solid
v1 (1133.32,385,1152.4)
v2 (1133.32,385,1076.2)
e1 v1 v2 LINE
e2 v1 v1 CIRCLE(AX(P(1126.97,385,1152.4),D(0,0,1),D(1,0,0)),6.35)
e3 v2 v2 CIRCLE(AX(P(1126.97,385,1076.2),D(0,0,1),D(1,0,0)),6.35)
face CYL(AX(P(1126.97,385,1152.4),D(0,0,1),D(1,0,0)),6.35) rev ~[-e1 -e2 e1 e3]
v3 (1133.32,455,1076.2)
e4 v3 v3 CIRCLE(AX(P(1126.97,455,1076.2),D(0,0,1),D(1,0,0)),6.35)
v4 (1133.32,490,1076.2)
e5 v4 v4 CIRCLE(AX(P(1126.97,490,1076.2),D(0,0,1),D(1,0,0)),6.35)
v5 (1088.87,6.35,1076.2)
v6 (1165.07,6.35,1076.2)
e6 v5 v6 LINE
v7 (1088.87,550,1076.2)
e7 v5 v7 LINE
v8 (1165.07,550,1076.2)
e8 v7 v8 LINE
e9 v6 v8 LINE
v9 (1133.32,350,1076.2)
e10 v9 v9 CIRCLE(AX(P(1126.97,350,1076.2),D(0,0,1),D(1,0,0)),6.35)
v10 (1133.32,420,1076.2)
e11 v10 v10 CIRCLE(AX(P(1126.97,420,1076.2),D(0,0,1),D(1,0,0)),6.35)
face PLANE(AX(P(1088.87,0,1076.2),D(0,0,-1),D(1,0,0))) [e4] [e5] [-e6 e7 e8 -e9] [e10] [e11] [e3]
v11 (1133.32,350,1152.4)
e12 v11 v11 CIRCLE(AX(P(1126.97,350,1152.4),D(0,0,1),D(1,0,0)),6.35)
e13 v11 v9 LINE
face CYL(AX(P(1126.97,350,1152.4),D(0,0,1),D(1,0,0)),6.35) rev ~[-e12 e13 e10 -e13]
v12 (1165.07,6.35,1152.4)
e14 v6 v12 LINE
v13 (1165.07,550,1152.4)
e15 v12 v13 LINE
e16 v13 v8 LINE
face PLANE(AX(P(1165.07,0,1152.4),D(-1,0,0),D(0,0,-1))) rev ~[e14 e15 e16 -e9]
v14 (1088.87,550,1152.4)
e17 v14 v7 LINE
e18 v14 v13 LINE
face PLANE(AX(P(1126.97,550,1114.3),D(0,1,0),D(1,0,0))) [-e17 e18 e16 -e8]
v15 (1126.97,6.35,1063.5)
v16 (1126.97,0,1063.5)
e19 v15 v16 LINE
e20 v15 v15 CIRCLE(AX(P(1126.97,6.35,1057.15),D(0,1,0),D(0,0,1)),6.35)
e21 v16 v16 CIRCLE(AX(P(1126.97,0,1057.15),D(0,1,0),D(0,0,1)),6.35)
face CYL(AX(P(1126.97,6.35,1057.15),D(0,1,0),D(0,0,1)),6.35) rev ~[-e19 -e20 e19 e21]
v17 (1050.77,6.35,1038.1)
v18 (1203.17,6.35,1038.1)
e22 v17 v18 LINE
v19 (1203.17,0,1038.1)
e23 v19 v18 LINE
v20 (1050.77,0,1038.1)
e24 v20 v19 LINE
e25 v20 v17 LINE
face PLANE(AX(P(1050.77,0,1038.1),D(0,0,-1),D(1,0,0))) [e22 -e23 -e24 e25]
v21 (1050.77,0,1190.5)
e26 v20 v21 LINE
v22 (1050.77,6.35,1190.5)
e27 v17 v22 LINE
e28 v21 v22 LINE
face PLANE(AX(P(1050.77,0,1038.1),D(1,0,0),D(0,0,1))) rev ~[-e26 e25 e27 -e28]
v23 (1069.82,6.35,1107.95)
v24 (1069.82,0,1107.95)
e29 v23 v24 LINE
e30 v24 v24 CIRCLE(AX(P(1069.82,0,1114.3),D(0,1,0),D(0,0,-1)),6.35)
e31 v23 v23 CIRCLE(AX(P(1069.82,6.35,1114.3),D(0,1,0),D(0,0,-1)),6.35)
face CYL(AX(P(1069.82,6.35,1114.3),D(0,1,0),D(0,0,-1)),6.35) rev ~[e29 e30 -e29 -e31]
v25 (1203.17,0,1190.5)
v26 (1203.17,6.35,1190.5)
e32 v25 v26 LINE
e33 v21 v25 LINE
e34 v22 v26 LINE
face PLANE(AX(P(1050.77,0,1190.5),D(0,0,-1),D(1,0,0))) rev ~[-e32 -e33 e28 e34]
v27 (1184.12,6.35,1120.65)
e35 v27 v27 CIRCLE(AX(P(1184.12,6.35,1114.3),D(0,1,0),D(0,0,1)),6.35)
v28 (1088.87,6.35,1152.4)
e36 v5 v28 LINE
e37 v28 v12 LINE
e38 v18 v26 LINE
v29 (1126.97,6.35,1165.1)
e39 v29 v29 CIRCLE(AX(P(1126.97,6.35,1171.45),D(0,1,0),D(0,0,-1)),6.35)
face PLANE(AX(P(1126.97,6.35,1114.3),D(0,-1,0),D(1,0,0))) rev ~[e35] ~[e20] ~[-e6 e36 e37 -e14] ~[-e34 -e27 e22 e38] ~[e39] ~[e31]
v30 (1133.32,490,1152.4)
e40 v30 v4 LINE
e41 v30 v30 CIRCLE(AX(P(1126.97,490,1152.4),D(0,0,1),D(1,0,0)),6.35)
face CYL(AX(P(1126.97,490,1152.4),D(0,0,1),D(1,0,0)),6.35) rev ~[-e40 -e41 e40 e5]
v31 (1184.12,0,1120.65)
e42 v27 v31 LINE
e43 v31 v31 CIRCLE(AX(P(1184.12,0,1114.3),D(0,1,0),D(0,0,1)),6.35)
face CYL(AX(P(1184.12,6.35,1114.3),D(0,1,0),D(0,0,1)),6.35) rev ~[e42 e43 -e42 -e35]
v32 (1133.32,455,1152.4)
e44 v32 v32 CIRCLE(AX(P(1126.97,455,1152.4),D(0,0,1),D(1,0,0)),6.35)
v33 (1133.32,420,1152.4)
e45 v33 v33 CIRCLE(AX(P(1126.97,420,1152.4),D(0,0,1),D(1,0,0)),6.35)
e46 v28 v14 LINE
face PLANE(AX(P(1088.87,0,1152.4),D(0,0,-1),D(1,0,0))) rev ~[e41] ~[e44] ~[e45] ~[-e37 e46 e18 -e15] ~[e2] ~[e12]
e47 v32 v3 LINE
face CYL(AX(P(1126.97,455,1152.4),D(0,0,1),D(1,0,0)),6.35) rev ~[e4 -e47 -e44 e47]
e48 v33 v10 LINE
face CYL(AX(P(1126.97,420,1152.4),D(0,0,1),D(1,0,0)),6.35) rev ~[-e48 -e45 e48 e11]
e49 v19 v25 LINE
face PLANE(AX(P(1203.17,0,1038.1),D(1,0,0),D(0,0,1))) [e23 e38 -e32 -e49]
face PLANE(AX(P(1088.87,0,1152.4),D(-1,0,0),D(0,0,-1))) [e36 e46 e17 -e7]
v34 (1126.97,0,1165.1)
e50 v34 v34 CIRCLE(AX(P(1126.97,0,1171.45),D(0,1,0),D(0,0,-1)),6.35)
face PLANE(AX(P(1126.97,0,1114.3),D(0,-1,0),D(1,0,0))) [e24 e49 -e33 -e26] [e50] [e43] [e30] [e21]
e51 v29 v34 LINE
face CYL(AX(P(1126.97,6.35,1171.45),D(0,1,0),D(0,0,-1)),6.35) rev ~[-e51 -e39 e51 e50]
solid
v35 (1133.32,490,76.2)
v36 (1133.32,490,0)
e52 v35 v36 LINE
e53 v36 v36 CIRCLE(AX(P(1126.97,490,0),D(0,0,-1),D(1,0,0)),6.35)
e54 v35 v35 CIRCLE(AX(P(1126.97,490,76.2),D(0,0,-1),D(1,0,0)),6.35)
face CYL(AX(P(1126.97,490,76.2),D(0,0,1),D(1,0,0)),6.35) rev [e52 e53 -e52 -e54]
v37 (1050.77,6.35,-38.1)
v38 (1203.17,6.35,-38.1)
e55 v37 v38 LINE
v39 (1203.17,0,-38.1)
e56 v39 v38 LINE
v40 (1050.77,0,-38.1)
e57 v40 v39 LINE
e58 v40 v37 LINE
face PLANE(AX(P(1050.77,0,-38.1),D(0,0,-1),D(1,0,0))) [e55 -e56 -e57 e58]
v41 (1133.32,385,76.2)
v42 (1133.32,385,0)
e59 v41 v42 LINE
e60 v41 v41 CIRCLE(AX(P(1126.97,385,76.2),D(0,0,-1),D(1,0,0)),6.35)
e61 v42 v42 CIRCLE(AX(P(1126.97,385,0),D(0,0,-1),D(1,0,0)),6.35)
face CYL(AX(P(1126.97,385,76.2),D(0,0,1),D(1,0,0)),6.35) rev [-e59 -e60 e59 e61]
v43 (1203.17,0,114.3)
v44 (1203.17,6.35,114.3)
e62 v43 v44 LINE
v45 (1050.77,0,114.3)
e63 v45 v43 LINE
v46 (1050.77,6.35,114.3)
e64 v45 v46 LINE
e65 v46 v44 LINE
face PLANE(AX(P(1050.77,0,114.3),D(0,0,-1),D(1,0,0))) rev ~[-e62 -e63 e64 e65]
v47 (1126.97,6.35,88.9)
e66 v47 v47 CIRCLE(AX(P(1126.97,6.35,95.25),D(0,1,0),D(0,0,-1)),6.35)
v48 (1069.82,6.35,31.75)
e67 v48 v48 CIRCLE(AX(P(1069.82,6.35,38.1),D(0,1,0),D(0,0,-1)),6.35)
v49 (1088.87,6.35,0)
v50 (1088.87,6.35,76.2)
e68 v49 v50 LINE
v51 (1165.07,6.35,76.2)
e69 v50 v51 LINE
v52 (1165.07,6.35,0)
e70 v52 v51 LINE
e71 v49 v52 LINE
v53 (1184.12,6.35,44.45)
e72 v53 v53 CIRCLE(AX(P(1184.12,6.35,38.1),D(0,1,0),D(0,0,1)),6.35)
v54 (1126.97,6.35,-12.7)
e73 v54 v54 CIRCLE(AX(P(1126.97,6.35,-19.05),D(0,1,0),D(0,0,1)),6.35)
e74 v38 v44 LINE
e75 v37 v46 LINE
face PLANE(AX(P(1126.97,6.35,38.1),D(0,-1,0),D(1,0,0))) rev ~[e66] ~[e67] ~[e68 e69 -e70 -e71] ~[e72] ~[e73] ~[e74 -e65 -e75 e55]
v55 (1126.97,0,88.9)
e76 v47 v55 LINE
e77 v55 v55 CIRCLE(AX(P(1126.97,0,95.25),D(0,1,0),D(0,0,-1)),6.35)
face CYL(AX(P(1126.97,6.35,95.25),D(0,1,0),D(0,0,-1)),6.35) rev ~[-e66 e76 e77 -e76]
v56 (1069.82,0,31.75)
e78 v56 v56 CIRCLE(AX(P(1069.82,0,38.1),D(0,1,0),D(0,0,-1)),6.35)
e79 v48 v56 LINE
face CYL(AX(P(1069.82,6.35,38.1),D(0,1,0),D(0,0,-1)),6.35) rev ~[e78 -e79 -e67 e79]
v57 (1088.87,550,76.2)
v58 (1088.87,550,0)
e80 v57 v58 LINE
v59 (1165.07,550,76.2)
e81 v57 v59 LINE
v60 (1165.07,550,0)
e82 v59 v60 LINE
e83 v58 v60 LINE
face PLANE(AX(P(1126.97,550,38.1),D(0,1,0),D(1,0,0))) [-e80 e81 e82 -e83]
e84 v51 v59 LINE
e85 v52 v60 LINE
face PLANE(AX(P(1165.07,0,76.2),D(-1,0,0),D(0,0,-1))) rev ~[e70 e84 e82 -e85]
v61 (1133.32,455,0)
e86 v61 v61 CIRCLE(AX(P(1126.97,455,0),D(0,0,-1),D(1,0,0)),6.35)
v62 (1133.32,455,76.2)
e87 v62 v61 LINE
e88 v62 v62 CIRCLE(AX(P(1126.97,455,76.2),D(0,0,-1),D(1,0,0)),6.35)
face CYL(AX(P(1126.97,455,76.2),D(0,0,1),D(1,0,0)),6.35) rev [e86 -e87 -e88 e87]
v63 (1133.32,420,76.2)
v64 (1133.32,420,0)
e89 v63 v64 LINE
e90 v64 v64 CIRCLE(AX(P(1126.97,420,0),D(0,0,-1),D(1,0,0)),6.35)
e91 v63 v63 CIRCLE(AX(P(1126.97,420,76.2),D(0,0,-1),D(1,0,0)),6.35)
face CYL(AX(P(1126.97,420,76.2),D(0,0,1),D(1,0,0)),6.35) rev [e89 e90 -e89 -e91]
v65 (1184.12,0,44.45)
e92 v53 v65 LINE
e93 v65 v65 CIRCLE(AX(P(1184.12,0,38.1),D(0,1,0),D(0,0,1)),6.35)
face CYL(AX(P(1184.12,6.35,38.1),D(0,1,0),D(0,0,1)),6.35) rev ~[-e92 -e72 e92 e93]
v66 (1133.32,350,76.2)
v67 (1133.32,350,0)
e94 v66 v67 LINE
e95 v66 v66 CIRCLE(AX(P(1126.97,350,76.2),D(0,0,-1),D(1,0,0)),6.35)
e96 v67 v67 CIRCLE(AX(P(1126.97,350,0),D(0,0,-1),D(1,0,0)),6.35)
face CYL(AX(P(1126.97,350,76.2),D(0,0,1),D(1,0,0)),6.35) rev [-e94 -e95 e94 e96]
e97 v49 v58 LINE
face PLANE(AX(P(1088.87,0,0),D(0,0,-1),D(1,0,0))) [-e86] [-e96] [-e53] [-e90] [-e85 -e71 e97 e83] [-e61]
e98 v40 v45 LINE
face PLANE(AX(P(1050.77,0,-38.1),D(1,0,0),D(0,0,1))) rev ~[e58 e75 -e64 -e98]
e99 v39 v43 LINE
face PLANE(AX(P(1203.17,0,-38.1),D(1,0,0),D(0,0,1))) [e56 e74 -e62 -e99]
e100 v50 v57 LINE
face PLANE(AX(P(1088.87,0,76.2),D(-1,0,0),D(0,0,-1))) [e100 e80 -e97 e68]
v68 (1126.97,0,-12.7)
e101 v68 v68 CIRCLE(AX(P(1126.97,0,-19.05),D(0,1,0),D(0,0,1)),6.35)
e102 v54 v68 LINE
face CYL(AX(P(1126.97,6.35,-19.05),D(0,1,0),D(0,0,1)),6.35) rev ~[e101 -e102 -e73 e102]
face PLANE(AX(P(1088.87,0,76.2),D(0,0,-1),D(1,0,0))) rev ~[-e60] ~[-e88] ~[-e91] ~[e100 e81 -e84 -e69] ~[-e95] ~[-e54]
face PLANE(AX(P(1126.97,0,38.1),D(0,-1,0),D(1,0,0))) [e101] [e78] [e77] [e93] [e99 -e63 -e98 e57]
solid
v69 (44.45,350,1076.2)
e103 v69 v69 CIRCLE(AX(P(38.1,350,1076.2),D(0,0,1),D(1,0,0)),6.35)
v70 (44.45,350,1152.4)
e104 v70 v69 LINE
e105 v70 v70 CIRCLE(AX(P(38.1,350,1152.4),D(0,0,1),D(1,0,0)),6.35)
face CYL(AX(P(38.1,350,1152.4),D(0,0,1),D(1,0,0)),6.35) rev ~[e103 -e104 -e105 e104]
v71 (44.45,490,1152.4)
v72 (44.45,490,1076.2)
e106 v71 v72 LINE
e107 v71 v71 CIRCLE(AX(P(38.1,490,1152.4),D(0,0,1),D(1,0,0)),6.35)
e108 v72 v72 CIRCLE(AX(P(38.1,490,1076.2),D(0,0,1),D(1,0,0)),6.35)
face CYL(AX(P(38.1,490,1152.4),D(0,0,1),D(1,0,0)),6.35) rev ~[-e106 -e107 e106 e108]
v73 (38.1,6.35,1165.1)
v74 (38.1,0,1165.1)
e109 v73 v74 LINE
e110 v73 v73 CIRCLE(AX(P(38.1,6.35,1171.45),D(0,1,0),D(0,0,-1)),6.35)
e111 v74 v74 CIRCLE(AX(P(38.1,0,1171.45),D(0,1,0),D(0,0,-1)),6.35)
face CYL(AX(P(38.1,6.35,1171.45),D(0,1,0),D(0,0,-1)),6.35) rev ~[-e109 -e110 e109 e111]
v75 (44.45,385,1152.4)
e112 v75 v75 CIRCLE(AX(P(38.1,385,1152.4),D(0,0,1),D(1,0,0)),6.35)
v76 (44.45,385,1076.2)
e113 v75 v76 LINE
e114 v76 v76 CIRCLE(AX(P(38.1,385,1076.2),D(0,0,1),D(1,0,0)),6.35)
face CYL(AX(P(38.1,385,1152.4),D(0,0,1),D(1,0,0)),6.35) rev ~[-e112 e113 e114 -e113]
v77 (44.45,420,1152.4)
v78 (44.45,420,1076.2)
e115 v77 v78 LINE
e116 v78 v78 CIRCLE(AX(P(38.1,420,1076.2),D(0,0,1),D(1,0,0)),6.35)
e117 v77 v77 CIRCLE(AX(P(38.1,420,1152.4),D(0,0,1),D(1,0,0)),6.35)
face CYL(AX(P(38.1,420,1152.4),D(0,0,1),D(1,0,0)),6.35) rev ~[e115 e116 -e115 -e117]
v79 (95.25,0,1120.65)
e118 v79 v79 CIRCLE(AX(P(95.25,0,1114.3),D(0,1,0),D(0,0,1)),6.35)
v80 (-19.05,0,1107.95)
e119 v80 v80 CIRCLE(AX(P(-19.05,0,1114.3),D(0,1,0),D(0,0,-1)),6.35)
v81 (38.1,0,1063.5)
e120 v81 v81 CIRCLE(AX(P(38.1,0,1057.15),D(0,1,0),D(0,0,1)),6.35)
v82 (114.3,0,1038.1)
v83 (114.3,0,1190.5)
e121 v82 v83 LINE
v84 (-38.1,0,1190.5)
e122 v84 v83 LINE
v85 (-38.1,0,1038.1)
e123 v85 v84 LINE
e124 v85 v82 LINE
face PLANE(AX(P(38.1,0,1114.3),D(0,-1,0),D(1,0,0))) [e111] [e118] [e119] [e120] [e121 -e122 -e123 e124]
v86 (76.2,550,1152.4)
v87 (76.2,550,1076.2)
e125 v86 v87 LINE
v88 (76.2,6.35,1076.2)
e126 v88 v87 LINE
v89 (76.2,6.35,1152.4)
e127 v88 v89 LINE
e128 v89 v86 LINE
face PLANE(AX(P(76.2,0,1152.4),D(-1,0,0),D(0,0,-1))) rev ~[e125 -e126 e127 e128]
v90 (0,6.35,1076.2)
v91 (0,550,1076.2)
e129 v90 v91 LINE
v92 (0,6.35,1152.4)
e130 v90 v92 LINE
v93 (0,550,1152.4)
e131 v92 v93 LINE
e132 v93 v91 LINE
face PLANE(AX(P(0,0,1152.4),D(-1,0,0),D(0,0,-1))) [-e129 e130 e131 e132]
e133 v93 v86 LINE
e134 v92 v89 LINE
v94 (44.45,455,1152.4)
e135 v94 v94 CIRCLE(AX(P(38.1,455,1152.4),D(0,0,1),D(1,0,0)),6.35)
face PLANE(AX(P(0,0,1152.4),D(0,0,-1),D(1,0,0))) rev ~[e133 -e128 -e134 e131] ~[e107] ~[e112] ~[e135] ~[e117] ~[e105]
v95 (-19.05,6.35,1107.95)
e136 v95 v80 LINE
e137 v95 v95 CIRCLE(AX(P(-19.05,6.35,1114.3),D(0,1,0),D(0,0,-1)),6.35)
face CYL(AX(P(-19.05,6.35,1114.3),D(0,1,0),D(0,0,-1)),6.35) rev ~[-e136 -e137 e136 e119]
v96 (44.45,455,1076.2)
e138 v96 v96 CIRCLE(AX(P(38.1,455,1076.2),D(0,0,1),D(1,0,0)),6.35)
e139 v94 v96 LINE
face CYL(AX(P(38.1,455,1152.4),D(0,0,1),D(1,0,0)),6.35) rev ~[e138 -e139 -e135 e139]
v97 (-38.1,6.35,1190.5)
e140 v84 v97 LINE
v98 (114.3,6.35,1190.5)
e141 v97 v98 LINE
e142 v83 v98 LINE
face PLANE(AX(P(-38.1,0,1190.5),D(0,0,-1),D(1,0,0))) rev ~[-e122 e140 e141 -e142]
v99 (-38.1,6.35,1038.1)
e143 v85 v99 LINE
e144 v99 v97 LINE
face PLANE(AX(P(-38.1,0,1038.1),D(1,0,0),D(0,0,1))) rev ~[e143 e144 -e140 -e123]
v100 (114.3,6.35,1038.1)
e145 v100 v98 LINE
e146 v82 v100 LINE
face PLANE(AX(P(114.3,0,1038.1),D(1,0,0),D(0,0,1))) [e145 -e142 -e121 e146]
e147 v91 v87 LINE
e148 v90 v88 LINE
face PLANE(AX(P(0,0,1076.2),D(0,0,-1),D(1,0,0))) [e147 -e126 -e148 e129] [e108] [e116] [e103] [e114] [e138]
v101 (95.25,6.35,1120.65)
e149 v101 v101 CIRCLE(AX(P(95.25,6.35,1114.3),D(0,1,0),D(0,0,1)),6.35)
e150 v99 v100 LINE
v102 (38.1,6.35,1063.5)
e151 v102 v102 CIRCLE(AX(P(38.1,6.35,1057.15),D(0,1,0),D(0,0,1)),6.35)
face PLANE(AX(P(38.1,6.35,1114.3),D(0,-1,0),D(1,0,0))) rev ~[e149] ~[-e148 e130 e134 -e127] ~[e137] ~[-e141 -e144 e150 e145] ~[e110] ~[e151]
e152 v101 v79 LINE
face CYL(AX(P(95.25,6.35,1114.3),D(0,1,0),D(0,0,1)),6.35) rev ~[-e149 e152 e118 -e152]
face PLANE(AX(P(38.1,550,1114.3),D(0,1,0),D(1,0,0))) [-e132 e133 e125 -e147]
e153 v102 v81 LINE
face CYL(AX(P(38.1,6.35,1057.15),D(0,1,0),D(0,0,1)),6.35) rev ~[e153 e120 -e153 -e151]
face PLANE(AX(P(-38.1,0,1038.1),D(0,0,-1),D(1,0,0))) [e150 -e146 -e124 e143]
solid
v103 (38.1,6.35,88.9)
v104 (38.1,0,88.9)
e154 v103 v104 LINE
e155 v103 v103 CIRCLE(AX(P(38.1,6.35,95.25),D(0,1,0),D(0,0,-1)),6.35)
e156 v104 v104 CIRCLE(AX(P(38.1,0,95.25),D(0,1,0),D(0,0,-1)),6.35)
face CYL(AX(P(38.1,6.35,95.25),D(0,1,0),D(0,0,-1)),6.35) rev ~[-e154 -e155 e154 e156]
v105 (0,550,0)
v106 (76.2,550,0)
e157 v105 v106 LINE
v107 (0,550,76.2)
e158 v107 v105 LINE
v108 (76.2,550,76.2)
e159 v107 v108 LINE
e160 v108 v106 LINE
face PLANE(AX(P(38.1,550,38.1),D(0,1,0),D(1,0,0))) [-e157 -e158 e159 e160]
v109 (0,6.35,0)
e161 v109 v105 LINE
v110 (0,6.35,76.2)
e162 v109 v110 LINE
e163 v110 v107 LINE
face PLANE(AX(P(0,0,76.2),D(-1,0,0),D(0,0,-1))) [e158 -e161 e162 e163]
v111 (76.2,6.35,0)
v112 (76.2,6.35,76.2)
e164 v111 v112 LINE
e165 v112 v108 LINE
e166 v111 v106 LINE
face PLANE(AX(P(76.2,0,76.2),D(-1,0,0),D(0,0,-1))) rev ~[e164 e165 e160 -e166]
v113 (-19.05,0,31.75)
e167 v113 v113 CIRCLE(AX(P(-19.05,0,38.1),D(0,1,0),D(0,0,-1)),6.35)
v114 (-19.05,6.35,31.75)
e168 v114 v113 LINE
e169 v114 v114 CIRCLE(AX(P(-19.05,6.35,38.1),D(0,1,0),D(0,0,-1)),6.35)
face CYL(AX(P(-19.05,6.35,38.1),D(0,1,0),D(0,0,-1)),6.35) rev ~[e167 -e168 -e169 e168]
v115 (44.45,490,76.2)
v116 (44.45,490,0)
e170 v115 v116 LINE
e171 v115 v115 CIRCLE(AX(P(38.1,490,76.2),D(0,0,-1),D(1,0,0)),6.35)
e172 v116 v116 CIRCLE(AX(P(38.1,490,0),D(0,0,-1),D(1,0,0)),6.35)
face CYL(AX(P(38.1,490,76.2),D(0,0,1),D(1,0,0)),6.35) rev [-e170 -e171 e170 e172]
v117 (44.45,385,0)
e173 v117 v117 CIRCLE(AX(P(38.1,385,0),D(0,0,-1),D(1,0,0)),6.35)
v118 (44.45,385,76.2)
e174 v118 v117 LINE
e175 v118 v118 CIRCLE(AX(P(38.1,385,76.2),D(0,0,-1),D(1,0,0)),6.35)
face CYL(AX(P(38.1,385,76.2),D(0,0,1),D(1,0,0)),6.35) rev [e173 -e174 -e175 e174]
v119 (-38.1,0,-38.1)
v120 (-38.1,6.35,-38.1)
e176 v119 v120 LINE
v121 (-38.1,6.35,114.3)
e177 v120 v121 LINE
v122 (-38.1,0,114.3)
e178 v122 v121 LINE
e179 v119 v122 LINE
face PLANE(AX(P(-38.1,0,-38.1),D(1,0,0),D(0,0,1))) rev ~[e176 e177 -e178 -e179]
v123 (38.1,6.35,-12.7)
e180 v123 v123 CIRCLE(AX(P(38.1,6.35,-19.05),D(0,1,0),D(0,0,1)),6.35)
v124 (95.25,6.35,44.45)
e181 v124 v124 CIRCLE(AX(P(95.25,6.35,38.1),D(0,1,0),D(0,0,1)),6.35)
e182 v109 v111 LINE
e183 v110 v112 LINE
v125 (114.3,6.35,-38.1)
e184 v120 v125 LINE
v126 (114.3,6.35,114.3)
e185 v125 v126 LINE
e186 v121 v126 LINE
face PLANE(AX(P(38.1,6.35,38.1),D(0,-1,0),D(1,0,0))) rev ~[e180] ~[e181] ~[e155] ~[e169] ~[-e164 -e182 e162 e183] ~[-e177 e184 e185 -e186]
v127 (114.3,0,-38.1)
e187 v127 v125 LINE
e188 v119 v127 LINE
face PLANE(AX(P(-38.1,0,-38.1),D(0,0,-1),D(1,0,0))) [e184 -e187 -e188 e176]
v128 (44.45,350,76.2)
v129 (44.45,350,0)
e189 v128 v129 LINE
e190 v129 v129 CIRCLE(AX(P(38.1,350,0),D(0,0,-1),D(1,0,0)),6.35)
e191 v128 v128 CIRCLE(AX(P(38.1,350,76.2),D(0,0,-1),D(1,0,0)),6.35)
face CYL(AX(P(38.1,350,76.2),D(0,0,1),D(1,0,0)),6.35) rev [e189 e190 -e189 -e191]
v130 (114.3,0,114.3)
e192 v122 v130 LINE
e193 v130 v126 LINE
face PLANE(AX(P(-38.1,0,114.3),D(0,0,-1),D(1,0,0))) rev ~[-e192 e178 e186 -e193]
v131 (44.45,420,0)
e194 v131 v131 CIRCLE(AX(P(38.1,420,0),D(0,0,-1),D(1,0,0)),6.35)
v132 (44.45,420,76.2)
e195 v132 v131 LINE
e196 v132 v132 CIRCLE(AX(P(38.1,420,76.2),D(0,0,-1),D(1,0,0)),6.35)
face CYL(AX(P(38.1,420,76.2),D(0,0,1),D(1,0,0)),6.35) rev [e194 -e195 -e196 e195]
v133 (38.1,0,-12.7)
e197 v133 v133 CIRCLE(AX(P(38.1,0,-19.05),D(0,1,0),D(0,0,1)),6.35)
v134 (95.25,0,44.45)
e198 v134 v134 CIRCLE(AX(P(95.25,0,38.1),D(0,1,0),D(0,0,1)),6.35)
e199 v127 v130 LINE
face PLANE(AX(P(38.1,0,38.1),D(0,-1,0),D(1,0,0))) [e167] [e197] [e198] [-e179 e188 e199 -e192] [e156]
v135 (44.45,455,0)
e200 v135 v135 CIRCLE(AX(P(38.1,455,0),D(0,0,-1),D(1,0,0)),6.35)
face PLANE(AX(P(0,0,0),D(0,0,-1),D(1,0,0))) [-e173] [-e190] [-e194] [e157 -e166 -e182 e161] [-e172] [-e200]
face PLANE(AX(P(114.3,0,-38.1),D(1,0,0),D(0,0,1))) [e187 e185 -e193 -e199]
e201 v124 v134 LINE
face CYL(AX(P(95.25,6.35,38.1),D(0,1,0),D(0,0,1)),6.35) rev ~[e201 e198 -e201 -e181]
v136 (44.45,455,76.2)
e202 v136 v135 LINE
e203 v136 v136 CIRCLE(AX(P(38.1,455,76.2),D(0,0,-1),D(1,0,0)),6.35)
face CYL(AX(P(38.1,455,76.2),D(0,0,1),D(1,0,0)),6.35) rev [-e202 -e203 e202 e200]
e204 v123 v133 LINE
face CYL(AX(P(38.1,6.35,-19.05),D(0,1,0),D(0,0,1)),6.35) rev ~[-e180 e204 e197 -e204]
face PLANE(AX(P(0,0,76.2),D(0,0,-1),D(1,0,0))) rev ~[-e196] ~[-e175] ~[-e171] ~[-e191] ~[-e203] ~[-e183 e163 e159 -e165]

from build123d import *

# Parameters (mm, degrees)
CROQUIS1_W                = 76.2
CROQUIS1_H                = 76.2
SALIENTE_EXTRUIR1_DEPTH   = 550
SALIENTE_EXTRUIR1_2_DEPTH = 550
SALIENTE_EXTRUIR1_3_DEPTH = 550
SALIENTE_EXTRUIR1_4_DEPTH = 550
CROQUIS2_W                = 152.4
CROQUIS2_H                = 152.4
CROQUIS2_W_2              = 76.2
CROQUIS2_H_2              = 76.2
SALIENTE_EXTRUIR2_DEPTH   = 6.35
CROQUIS3_R                = 6.35
CORTAR_EXTRUIR1_DEPTH     = 6.35
CROQUIS4_R                = 6.35
CORTAR_EXTRUIR2_DEPTH     = 6.35
CROQUIS5_R                = 6.35
CORTAR_EXTRUIR3_DEPTH     = 6.35
CROQUIS6_R                = 6.35
CORTAR_EXTRUIR4_DEPTH     = 6.35
CROQUIS7_R                = 6.35
CORTAR_EXTRUIR5_DEPTH     = 76.2
CROQUIS8_R                = 6.35
CORTAR_EXTRUIR6_DEPTH     = 76.2
CORTAR_EXTRUIR7_START     = -76.2
CROQUIS9_R                = 6.35
CORTAR_EXTRUIR7_DEPTH     = 76.2
CORTAR_EXTRUIR8_START     = -76.2
CROQUIS10_R               = 6.35
CORTAR_EXTRUIR8_DEPTH     = 76.2


with BuildPart() as part:
    # Croquis1 → Saliente-Extruir1 (new body)
    with BuildSketch(Plane(origin=(0, 0, 0), x_dir=(1, 0, 0), z_dir=(0, 1, 0))):
        with Locations((38.1, -38.1)):
            Rectangle(CROQUIS1_W, CROQUIS1_H)
    extrude(amount=SALIENTE_EXTRUIR1_DEPTH)



with BuildPart() as body_2:
    # Croquis1 → Saliente-Extruir1 2 (new body)
    with BuildSketch(Plane(origin=(0, 0, 0), x_dir=(1, 0, 0), z_dir=(0, 1, 0))):
        with Locations((1126.97, -38.1)):
            Rectangle(CROQUIS1_W, CROQUIS1_H)
    extrude(amount=SALIENTE_EXTRUIR1_2_DEPTH)


with BuildPart() as body_3:
    # Croquis1 → Saliente-Extruir1 3 (new body)
    with BuildSketch(Plane(origin=(0, 0, 0), x_dir=(1, 0, 0), z_dir=(0, 1, 0))):
        with Locations((1126.97, -1114.3)):
            Rectangle(CROQUIS1_W, CROQUIS1_H)
    extrude(amount=SALIENTE_EXTRUIR1_3_DEPTH)


with BuildPart() as body_4:
    # Croquis1 → Saliente-Extruir1 4 (new body)
    with BuildSketch(Plane(origin=(0, 0, 0), x_dir=(1, 0, 0), z_dir=(0, 1, 0))):
        with Locations((38.1, -1114.3)):
            Rectangle(CROQUIS1_W, CROQUIS1_H)
    extrude(amount=SALIENTE_EXTRUIR1_4_DEPTH)


with BuildPart() as part_1:
    add(part.part)

    add(body_2.part)  # Saliente-Extruir2 merges body 2

    add(body_3.part)  # Saliente-Extruir2 merges body 3

    add(body_4.part)  # Saliente-Extruir2 merges body 4
    # Croquis2 → Saliente-Extruir2 (add)
    # profile 1 of 4: a face of its own
    with BuildSketch(Plane.XZ):
        with Locations((38.1, 38.1)):
            Rectangle(CROQUIS2_W, CROQUIS2_H)
        with Locations((38.1, 38.1)):
            Rectangle(CROQUIS2_W_2, CROQUIS2_H_2, mode=Mode.SUBTRACT)
    # profile 2 of 4: a face of its own
    with BuildSketch(Plane.XZ):
        with Locations((1126.97, 38.1)):
            Rectangle(CROQUIS2_W, CROQUIS2_H)
        with Locations((1126.97, 38.1)):
            Rectangle(CROQUIS2_W_2, CROQUIS2_H_2, mode=Mode.SUBTRACT)
    # profile 3 of 4: a face of its own
    with BuildSketch(Plane.XZ):
        with Locations((1126.97, 1114.3)):
            Rectangle(CROQUIS2_W, CROQUIS2_H)
        with Locations((1126.97, 1114.3)):
            Rectangle(CROQUIS2_W_2, CROQUIS2_H_2, mode=Mode.SUBTRACT)
    # profile 4 of 4: a face of its own
    with BuildSketch(Plane.XZ):
        with Locations((38.1, 1114.3)):
            Rectangle(CROQUIS2_W, CROQUIS2_H)
        with Locations((38.1, 1114.3)):
            Rectangle(CROQUIS2_W_2, CROQUIS2_H_2, mode=Mode.SUBTRACT)
    extrude(amount=-SALIENTE_EXTRUIR2_DEPTH)

    # Croquis3 → Cortar-Extruir1 (cut)
    with BuildSketch(Plane(origin=(0, 6.35, 0), x_dir=(1, 0, 0), z_dir=(0, 1, 0))):
        with Locations(Location((38.1, 19.05, 0), (0, 0, 270))):
            Circle(CROQUIS3_R)
        with Locations(Location((-19.05, -38.1, 0), (0, 0, 90))):
            Circle(CROQUIS3_R)
        with Locations(Location((38.1, -95.25, 0), (0, 0, 90))):
            Circle(CROQUIS3_R)
        with Locations(Location((95.25, -38.1, 0), (0, 0, 270))):
            Circle(CROQUIS3_R)
    extrude(amount=-CORTAR_EXTRUIR1_DEPTH, mode=Mode.SUBTRACT)

    # Croquis4 → Cortar-Extruir2 (cut)
    with BuildSketch(Plane(origin=(0, 6.35, 0), x_dir=(1, 0, 0), z_dir=(0, 1, 0))):
        with Locations(Location((1126.97, 19.05, 0), (0, 0, 270))):
            Circle(CROQUIS4_R)
        with Locations(Location((1069.82, -38.1, 0), (0, 0, 90))):
            Circle(CROQUIS4_R)
        with Locations(Location((1126.97, -95.25, 0), (0, 0, 90))):
            Circle(CROQUIS4_R)
        with Locations(Location((1184.12, -38.1, 0), (0, 0, 270))):
            Circle(CROQUIS4_R)
    extrude(amount=-CORTAR_EXTRUIR2_DEPTH, mode=Mode.SUBTRACT)

    # Croquis5 → Cortar-Extruir3 (cut)
    with BuildSketch(Plane(origin=(0, 6.35, 0), x_dir=(1, 0, 0), z_dir=(0, 1, 0))):
        with Locations(Location((1126.97, -1057.15, 0), (0, 0, 270))):
            Circle(CROQUIS5_R)
        with Locations(Location((1069.82, -1114.3, 0), (0, 0, 90))):
            Circle(CROQUIS5_R)
        with Locations(Location((1126.97, -1171.45, 0), (0, 0, 90))):
            Circle(CROQUIS5_R)
        with Locations(Location((1184.12, -1114.3, 0), (0, 0, 270))):
            Circle(CROQUIS5_R)
    extrude(amount=-CORTAR_EXTRUIR3_DEPTH, mode=Mode.SUBTRACT)

    # Croquis6 → Cortar-Extruir4 (cut)
    with BuildSketch(Plane(origin=(0, 6.35, 0), x_dir=(1, 0, 0), z_dir=(0, 1, 0))):
        with Locations(Location((38.1, -1057.15, 0), (0, 0, 270))):
            Circle(CROQUIS6_R)
        with Locations(Location((-19.05, -1114.3, 0), (0, 0, 90))):
            Circle(CROQUIS6_R)
        with Locations(Location((38.1, -1171.45, 0), (0, 0, 90))):
            Circle(CROQUIS6_R)
        with Locations(Location((95.25, -1114.3, 0), (0, 0, 270))):
            Circle(CROQUIS6_R)
    extrude(amount=-CORTAR_EXTRUIR4_DEPTH, mode=Mode.SUBTRACT)

    # Croquis7 → Cortar-Extruir5 (cut)
    with BuildSketch(Plane.XY.offset(1152.4)):
        with Locations((38.1, 490)):
            Circle(CROQUIS7_R)
        with Locations((38.1, 455)):
            Circle(CROQUIS7_R)
        with Locations((38.1, 420)):
            Circle(CROQUIS7_R)
        with Locations((38.1, 385)):
            Circle(CROQUIS7_R)
        with Locations((38.1, 350)):
            Circle(CROQUIS7_R)
    extrude(amount=-CORTAR_EXTRUIR5_DEPTH, mode=Mode.SUBTRACT)

    # Croquis8 → Cortar-Extruir6 (cut)
    with BuildSketch(Plane.XY.offset(1152.4)):
        with Locations((1126.97, 490)):
            Circle(CROQUIS8_R)
        with Locations((1126.97, 455)):
            Circle(CROQUIS8_R)
        with Locations((1126.97, 420)):
            Circle(CROQUIS8_R)
        with Locations((1126.97, 385)):
            Circle(CROQUIS8_R)
        with Locations((1126.97, 350)):
            Circle(CROQUIS8_R)
    extrude(amount=-CORTAR_EXTRUIR6_DEPTH, mode=Mode.SUBTRACT)

    # Croquis9 → Cortar-Extruir7 (cut)
    with BuildSketch(Plane(origin=(0, 0, 0), x_dir=(-1, 0, 0), z_dir=(0, 0, -1)).offset(CORTAR_EXTRUIR7_START)):
        with Locations(Location((-1126.97, 490, 0), (0, 0, 180))):
            Circle(CROQUIS9_R)
        with Locations(Location((-1126.97, 455, 0), (0, 0, 180))):
            Circle(CROQUIS9_R)
        with Locations(Location((-1126.97, 420, 0), (0, 0, 180))):
            Circle(CROQUIS9_R)
        with Locations(Location((-1126.97, 385, 0), (0, 0, 180))):
            Circle(CROQUIS9_R)
        with Locations(Location((-1126.97, 350, 0), (0, 0, 180))):
            Circle(CROQUIS9_R)
    extrude(amount=CORTAR_EXTRUIR7_DEPTH, mode=Mode.SUBTRACT)

    # Croquis10 → Cortar-Extruir8 (cut)
    with BuildSketch(Plane(origin=(0, 0, 0), x_dir=(-1, 0, 0), z_dir=(0, 0, -1)).offset(CORTAR_EXTRUIR8_START)):
        with Locations(Location((-38.1, 490, 0), (0, 0, 180))):
            Circle(CROQUIS10_R)
        with Locations(Location((-38.1, 455, 0), (0, 0, 180))):
            Circle(CROQUIS10_R)
        with Locations(Location((-38.1, 420, 0), (0, 0, 180))):
            Circle(CROQUIS10_R)
        with Locations(Location((-38.1, 385, 0), (0, 0, 180))):
            Circle(CROQUIS10_R)
        with Locations(Location((-38.1, 350, 0), (0, 0, 180))):
            Circle(CROQUIS10_R)
    extrude(amount=CORTAR_EXTRUIR8_DEPTH, mode=Mode.SUBTRACT)


solid = part_1.part
